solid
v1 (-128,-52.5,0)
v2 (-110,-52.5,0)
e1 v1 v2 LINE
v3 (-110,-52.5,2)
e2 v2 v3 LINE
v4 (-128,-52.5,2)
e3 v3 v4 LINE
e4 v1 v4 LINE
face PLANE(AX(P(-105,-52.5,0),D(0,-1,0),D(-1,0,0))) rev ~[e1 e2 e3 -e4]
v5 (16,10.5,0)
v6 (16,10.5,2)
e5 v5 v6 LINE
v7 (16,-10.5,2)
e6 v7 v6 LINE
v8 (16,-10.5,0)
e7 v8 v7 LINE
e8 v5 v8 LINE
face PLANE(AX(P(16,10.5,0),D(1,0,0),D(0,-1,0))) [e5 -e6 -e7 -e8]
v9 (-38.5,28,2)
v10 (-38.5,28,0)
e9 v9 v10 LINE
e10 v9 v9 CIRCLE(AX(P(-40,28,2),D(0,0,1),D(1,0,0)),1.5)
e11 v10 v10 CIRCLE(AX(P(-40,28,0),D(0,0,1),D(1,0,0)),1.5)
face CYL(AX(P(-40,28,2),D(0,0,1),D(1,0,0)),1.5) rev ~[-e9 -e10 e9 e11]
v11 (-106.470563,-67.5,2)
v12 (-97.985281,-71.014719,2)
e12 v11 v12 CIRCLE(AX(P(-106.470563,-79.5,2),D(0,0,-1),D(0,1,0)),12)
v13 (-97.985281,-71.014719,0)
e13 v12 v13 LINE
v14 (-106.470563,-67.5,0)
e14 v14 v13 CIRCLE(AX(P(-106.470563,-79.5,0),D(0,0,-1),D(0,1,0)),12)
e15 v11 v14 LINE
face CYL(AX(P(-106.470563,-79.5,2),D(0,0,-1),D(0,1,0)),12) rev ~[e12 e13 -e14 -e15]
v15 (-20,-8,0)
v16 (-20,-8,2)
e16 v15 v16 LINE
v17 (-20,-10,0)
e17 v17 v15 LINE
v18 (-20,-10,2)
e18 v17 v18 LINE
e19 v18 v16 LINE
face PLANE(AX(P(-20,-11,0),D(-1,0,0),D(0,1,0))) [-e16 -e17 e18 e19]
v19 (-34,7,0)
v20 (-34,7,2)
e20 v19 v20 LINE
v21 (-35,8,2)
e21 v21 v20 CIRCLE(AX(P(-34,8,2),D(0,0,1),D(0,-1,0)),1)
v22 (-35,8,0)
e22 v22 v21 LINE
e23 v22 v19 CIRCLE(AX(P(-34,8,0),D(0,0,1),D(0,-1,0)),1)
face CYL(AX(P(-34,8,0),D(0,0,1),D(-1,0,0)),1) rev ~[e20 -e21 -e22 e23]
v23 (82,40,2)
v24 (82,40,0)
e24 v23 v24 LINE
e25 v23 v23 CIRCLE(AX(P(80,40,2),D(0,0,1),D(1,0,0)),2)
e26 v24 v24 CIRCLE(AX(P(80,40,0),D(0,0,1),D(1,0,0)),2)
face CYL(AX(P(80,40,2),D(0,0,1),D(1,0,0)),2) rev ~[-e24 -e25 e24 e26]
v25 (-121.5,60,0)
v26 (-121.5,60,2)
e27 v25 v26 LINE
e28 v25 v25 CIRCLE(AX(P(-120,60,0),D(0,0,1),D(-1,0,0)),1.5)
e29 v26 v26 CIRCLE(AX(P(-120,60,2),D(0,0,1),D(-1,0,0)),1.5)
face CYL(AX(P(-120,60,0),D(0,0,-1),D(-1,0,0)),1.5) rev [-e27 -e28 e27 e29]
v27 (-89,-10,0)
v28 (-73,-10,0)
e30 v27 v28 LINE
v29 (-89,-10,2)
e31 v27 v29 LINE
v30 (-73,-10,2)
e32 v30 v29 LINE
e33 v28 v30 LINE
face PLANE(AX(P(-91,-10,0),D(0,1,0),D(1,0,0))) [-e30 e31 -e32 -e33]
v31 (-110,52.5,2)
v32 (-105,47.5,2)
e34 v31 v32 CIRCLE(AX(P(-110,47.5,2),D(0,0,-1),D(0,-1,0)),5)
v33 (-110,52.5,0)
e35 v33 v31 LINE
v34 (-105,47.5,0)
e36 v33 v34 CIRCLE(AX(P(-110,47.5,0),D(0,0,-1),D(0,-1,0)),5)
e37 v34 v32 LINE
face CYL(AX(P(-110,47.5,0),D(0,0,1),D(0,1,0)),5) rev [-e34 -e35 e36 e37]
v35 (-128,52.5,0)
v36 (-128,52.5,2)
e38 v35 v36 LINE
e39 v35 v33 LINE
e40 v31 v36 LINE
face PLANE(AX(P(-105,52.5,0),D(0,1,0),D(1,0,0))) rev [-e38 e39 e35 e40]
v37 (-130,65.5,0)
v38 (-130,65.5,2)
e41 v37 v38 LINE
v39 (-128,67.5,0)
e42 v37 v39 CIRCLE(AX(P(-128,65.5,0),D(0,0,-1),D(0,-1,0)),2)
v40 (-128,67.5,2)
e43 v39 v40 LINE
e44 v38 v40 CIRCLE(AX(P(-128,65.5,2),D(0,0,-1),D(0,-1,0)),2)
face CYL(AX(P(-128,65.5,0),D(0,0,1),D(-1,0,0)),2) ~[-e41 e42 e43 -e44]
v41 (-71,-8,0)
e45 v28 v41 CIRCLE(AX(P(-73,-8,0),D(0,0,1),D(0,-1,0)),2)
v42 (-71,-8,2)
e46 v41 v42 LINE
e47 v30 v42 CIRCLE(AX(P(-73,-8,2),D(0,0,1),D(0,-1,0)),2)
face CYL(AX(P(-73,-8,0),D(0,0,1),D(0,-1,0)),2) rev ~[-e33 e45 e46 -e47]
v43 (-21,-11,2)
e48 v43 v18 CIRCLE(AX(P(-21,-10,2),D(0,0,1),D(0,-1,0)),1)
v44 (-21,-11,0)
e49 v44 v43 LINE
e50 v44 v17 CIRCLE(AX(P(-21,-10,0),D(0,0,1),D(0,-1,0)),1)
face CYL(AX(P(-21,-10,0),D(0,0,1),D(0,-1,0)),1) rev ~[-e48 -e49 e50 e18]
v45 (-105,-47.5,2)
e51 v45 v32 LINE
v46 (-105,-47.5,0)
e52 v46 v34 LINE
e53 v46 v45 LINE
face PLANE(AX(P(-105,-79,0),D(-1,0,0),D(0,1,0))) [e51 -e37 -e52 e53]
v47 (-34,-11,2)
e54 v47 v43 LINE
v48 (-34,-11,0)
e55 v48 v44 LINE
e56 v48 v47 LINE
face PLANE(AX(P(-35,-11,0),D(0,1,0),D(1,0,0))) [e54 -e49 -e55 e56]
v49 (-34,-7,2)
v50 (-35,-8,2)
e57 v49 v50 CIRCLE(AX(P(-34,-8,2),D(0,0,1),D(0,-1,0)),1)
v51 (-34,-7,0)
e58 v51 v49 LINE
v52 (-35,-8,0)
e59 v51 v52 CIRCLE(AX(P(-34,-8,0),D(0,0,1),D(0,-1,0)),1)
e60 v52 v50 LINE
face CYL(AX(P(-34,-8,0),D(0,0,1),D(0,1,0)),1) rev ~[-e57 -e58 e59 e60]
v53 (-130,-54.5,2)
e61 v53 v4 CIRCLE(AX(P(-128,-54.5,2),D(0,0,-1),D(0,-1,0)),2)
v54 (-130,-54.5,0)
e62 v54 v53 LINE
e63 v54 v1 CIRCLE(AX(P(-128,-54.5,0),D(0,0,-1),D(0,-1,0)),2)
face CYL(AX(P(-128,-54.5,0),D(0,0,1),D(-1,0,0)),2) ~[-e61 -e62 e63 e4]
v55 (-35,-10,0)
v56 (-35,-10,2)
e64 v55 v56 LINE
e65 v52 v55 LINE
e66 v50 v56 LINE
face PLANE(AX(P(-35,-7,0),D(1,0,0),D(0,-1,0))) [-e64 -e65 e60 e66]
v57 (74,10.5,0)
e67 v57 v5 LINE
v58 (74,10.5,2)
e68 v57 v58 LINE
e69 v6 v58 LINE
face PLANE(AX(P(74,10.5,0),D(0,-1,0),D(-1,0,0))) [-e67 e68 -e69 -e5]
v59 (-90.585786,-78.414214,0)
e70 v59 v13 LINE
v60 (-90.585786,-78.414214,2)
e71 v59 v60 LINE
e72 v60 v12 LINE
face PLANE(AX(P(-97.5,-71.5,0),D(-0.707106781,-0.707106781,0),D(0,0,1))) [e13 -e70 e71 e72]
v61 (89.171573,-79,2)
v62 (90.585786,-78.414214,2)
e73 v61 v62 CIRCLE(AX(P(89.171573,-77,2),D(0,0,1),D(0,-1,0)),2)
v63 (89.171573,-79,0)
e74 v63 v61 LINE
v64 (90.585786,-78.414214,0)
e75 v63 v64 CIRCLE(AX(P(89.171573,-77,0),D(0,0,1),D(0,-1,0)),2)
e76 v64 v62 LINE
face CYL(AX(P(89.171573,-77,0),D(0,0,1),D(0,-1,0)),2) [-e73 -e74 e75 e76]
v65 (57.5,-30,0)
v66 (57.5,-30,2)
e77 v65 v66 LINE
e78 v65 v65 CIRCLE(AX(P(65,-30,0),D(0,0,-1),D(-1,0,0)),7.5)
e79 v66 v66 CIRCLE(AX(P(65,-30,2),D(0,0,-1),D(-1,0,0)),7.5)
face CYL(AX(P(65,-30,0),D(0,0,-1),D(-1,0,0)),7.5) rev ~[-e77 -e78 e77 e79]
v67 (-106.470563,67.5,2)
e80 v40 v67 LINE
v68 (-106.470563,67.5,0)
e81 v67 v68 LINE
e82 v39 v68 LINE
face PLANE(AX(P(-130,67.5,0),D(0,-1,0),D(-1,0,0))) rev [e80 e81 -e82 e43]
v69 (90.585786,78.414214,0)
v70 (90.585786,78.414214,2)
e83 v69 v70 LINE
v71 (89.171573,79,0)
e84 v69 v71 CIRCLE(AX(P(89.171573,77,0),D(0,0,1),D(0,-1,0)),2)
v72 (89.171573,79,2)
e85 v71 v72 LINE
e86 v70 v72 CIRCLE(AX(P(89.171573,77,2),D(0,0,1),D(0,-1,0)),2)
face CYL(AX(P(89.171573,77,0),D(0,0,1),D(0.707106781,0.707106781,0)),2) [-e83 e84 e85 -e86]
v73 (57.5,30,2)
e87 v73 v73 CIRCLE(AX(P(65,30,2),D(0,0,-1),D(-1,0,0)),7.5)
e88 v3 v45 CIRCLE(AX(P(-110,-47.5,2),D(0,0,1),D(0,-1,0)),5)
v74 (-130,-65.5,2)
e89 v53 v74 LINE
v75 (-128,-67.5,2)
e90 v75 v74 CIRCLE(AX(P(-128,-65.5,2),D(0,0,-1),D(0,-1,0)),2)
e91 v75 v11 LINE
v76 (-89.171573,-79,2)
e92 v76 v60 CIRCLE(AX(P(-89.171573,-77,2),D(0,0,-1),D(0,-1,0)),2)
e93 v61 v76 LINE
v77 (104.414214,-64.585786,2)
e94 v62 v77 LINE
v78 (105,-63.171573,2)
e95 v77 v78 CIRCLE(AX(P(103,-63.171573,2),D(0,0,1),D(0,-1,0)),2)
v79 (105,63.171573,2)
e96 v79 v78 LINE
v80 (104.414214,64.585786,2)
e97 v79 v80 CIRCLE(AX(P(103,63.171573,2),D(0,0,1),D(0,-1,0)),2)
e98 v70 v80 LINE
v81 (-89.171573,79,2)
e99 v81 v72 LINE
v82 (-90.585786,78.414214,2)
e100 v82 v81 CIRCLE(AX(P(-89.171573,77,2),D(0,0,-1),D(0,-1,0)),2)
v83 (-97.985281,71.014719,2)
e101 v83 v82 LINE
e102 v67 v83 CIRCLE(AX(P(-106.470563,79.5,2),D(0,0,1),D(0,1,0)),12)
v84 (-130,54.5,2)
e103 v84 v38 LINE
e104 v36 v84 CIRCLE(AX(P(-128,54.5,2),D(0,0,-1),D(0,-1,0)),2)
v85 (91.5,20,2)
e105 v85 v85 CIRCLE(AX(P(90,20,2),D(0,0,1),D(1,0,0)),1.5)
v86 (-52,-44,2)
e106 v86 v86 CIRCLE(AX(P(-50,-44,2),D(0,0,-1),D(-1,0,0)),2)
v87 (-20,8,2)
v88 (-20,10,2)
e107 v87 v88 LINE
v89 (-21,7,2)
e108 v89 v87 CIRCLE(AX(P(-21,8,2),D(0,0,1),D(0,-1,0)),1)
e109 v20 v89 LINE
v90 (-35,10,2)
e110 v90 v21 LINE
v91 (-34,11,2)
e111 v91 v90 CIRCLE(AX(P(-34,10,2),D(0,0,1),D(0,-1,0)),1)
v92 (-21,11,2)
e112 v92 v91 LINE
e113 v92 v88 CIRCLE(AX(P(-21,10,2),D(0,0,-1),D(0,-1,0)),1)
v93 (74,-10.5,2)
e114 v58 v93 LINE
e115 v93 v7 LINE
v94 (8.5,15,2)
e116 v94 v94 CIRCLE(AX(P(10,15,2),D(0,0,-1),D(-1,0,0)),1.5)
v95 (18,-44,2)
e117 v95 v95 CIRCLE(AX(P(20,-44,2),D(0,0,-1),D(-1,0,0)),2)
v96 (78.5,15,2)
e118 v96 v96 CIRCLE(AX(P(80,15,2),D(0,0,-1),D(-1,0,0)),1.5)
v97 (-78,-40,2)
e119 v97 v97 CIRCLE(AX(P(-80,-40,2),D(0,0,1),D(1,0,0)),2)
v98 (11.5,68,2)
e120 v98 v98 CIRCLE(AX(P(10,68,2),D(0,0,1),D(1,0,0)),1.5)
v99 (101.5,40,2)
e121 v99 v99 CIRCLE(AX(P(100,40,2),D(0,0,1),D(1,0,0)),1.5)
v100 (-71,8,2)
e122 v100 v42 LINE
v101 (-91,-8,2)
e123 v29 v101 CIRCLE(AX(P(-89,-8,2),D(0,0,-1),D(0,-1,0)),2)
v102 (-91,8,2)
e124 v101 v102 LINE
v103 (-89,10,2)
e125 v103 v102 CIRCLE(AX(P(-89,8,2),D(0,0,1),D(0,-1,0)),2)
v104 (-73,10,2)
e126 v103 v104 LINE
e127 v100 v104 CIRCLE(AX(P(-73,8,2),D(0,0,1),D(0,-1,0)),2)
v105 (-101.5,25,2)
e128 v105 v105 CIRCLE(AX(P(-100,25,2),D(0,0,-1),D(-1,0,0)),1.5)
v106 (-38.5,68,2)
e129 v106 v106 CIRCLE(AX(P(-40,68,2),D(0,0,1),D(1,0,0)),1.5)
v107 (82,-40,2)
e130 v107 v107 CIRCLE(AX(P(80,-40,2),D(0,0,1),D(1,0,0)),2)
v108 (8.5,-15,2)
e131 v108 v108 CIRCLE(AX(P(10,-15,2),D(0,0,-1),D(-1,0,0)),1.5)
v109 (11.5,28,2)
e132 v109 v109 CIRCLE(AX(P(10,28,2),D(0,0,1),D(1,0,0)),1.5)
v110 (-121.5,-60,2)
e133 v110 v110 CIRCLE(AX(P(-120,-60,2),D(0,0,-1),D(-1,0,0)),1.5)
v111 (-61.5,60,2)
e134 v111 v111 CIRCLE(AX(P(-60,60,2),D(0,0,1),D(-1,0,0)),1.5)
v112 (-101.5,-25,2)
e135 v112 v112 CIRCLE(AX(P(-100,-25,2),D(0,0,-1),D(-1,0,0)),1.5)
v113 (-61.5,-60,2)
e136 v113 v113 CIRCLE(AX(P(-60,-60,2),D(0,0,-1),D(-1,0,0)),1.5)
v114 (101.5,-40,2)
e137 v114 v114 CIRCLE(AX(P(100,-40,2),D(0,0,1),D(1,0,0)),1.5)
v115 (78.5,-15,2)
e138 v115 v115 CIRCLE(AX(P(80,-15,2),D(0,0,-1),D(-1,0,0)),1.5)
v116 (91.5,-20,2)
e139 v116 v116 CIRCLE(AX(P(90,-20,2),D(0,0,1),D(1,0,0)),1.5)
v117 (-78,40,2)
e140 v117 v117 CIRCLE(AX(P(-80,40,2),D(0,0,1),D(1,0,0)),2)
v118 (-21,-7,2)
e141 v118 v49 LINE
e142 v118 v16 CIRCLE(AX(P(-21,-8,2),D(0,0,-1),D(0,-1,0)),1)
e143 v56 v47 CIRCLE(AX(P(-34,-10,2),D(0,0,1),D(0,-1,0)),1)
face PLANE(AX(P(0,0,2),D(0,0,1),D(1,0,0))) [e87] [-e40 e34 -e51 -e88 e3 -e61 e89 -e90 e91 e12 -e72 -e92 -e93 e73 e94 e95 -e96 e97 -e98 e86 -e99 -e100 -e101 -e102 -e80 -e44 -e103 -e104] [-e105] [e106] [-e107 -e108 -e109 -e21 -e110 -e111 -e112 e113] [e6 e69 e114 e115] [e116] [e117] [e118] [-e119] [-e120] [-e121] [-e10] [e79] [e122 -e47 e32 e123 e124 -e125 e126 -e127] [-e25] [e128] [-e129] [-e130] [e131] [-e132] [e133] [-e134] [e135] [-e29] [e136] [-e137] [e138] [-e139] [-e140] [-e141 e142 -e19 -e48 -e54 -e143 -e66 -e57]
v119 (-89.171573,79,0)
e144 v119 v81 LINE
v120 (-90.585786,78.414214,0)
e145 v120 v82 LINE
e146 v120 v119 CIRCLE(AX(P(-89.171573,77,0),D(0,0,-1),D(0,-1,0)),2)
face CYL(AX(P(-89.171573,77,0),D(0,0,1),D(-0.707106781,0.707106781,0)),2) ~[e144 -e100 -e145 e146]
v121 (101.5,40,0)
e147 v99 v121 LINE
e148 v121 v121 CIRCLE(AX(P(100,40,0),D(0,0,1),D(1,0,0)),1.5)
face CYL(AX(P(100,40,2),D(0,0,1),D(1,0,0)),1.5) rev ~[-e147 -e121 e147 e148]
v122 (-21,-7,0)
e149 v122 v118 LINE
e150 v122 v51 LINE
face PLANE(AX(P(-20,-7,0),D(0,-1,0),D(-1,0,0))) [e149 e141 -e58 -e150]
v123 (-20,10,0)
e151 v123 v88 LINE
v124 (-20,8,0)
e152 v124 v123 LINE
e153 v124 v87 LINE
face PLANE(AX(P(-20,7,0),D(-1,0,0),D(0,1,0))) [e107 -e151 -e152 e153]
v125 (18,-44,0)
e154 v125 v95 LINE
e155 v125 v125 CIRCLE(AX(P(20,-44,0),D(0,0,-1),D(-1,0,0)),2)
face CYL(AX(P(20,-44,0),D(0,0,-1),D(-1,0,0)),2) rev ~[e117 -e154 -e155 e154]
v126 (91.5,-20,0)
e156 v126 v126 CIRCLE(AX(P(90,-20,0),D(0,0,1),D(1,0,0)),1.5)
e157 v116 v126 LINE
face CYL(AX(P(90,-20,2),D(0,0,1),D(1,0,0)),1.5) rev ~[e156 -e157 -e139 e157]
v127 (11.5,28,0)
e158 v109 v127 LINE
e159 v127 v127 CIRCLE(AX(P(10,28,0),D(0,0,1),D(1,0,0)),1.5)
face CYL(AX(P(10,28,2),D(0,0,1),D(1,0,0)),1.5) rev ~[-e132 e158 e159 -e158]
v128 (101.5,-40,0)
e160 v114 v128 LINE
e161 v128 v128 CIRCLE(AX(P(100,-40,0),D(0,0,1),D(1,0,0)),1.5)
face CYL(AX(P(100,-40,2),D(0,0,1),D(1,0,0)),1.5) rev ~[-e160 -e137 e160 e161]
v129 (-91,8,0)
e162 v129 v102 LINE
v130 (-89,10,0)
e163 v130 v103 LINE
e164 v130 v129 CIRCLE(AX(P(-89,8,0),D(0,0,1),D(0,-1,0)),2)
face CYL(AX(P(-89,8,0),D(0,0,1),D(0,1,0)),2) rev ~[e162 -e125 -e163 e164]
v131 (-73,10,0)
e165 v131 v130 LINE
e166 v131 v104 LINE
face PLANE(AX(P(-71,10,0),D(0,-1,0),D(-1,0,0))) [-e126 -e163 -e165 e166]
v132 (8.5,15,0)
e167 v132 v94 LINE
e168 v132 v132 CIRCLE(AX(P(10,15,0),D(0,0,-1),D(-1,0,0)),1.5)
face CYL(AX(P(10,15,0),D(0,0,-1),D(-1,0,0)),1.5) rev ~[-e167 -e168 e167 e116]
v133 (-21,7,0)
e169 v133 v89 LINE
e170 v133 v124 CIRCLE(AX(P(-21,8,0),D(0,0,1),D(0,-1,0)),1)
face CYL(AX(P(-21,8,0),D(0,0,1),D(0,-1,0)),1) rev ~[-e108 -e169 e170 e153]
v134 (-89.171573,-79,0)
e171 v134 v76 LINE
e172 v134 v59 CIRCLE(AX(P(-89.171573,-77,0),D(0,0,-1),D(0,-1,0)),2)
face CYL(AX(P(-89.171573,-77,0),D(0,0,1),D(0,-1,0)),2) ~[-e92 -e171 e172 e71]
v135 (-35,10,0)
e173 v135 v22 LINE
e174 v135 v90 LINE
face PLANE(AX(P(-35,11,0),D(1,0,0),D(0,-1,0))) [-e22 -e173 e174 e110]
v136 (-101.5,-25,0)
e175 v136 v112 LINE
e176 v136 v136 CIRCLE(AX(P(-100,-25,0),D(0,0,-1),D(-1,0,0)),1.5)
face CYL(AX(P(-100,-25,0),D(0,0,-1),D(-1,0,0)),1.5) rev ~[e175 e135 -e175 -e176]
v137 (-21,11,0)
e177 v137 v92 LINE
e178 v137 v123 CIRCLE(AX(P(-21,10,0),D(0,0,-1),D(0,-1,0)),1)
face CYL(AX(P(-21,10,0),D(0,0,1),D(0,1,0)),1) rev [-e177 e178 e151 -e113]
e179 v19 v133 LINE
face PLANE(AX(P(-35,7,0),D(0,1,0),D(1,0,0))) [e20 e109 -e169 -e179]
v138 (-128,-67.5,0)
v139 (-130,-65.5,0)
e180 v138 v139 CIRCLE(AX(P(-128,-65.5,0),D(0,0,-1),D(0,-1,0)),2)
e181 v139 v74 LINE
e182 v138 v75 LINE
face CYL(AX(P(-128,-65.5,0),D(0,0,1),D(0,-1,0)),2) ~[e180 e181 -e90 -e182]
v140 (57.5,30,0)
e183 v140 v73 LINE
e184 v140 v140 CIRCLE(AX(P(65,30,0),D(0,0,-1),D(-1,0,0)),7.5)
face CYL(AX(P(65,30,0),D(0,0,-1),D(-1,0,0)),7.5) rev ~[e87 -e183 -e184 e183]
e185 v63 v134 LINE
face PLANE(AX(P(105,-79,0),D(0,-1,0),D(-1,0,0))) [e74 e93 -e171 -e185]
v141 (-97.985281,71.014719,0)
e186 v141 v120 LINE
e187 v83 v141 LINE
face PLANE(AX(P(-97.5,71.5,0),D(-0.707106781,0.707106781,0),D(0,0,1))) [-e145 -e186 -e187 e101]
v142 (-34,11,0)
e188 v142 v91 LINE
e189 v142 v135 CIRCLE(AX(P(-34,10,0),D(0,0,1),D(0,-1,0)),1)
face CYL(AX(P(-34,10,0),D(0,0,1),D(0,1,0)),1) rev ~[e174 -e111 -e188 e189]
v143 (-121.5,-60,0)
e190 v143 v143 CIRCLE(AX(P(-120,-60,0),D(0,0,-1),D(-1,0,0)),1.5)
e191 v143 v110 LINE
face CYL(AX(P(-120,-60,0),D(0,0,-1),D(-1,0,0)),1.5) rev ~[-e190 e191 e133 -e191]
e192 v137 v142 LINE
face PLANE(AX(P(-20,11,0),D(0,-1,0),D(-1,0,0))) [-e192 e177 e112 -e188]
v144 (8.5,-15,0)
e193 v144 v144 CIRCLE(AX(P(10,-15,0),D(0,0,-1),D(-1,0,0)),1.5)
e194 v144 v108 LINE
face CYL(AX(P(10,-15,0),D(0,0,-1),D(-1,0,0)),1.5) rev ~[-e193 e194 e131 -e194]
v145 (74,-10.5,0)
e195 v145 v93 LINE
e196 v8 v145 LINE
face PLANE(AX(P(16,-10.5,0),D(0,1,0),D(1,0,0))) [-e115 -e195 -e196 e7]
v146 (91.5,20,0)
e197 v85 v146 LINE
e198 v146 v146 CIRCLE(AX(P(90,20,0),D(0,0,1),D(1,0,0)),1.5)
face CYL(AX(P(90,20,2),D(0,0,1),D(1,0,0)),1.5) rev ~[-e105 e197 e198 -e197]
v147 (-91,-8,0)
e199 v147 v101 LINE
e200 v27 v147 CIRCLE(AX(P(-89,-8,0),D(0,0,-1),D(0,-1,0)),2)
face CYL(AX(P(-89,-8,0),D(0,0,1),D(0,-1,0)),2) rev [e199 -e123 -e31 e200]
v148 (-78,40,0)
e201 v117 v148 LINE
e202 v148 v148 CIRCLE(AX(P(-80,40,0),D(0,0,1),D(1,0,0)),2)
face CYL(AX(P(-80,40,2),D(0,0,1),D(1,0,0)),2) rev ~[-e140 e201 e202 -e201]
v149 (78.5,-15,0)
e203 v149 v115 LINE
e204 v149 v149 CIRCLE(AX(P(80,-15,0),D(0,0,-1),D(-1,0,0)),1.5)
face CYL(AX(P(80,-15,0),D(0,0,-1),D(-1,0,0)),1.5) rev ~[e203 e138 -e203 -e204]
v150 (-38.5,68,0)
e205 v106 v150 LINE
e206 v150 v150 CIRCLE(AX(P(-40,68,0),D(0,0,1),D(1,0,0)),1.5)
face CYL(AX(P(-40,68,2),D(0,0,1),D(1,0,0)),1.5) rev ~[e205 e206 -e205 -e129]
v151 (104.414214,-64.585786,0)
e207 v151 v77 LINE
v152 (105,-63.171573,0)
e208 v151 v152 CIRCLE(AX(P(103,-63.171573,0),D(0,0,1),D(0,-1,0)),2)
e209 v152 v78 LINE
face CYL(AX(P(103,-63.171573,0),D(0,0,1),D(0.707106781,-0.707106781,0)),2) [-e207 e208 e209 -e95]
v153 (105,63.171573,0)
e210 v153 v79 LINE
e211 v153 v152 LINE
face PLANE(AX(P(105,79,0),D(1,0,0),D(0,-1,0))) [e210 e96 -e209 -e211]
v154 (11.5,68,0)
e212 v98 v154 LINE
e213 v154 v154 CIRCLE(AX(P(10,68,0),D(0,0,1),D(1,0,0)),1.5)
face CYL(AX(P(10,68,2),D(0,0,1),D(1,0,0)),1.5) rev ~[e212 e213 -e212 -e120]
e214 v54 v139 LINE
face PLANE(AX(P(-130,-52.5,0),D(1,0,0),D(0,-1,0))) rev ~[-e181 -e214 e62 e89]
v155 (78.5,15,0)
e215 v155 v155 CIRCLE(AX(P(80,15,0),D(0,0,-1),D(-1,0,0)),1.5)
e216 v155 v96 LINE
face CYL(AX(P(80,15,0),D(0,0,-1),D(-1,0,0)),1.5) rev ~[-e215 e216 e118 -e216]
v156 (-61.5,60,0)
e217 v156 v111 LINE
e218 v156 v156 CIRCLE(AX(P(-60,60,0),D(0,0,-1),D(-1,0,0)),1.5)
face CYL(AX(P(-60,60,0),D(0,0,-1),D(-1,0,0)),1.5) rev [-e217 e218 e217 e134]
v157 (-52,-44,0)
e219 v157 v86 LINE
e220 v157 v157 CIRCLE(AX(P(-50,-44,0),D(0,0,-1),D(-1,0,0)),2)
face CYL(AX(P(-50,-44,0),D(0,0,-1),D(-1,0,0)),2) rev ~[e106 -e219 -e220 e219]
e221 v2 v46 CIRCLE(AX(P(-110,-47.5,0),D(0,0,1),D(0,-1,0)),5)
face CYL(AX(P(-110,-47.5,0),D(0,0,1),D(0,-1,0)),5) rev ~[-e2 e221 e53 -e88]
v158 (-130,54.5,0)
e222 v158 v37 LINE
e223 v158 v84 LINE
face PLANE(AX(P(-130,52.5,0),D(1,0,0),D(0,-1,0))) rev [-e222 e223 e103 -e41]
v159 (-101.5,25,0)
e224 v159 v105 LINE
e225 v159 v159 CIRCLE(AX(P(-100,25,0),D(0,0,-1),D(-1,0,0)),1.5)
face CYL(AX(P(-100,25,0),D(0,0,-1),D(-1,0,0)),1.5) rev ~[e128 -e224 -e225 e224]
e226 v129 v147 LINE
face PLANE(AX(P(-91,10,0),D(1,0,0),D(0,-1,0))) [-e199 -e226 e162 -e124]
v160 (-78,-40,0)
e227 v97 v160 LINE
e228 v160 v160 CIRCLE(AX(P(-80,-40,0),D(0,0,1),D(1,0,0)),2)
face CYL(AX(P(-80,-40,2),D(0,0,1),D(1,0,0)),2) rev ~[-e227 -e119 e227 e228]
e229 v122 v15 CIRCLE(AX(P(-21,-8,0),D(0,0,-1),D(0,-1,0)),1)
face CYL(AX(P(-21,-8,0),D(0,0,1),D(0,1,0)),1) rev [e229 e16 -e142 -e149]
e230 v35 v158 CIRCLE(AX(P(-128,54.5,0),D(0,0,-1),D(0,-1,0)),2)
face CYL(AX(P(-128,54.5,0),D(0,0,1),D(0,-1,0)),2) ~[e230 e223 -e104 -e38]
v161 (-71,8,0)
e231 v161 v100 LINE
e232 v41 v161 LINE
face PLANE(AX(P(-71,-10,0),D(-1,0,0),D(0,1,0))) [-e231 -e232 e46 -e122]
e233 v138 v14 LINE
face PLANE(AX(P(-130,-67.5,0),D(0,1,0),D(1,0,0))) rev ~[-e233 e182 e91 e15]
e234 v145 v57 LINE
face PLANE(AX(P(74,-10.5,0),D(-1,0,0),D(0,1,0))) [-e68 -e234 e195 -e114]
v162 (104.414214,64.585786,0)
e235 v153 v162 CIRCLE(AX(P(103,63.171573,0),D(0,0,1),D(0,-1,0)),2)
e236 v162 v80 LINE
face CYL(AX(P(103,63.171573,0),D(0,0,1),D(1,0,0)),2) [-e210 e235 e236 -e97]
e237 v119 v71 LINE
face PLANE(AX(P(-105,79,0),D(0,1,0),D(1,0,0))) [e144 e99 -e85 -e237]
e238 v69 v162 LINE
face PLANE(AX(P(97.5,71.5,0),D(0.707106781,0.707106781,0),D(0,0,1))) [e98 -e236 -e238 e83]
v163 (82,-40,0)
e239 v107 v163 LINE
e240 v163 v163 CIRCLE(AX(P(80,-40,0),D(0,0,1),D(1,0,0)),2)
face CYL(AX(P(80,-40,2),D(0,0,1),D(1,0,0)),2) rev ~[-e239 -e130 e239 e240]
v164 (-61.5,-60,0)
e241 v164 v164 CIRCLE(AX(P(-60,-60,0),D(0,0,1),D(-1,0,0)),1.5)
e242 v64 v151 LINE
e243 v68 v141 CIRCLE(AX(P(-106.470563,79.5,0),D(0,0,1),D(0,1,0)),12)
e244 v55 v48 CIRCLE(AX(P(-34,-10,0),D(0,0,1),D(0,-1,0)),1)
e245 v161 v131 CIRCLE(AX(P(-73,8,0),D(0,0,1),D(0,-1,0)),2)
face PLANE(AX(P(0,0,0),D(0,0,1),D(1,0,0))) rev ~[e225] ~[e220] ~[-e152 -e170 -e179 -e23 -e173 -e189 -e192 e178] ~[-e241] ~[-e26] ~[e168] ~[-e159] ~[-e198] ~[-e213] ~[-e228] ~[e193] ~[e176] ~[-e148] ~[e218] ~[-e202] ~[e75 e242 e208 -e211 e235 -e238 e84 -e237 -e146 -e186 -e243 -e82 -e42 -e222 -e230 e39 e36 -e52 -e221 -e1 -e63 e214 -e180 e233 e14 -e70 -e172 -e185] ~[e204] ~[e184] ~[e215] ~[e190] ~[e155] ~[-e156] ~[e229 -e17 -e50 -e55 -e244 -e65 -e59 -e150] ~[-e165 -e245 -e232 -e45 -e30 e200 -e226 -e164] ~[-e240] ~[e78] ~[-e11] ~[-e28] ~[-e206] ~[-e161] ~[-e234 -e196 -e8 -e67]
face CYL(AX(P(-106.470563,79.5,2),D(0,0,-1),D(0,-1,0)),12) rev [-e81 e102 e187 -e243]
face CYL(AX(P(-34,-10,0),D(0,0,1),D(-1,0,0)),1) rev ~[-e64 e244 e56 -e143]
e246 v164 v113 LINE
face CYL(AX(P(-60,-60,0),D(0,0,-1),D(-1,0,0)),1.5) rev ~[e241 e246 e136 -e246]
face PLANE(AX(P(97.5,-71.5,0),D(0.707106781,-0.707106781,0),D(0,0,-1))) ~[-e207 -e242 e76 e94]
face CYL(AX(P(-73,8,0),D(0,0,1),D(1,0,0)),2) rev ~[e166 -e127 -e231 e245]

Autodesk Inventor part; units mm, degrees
ref_plane "YZ Plane" through (0, 0, 0) normal (1, 0, 0) x (0, 1, 0)
ref_plane "XZ Plane" through (0, 0, 0) normal (0, 1, 0) x (-1, 0, 0)
sketch "Эскиз1" plane through (0, 0, 0) normal (0, 0, 1) x (1, 0, 0)
  line L0 (105, -79) -> (-105, -79)
  line L1 (-105, -79) -> (-105, 79)
  line L2 (-105, 79) -> (105, 79)
  line L3 (105, 79) -> (105, -79)
  line L4 (105, -79) -> (-105, 79) construction
  line L5 (-105, -79) -> (105, 79) construction
  point P0 (0, 0)
  dimension "d0" = 210
  dimension "d1" = 158
extrude "Выдавливание1" add sketch "Эскиз1" along normal blind 2
chamfer "Фаска1" distance 15 angle 45 4 edges at (105, -79, 1) (-105, -79, 1) (-105, 79, 1) (105, 79, 1)
fillet "Сопряжение1" radius 2 8 edges at (90, 79, 1) (105, 64, 1) (105, -64, 1) (90, -79, 1) (-90, -79, 1) (-105, -64, 1) (-90, 79, 1) (-105, 64, 1)
sketch "Эскиз2" plane through (0, 0, 2) normal (0, 0, 1) x (1, 0, 0)
  line L0 (-100, 40) -> (100, 40) construction
  line L1 (100, 40) -> (100, -40) construction
  line L2 (100, -40) -> (-100, -40) construction
  line L3 (-100, -40) -> (-100, 40) construction
  line L4 (-100, 40) -> (100, -40) construction
  line L5 (100, 40) -> (-100, -40) construction
  circle A0 centre (100, -40) radius 1.5
  circle A1 centre (100, 40) radius 1.5
  point P0 (0, 0)
  dimension "d8" = 200
  dimension "d9" = 80
  dimension "d10" = 3
  dimension "d13" = 3
extrude "фонарь" cut sketch "Эскиз2" against normal blind 2
sketch "Эскиз3" plane through (0, 0, 2) normal (0, 0, 1) x (1, 0, 0)
  line L0 (-90, 20) -> (90, 20) construction
  line L1 (90, 20) -> (90, -20) construction
  line L2 (90, -20) -> (-90, -20) construction
  line L3 (-90, -20) -> (-90, 20) construction
  line L4 (-90, 20) -> (90, -20) construction
  line L5 (90, 20) -> (-90, -20) construction
  circle A0 centre (90, -20) radius 1.5
  circle A1 centre (90, 20) radius 1.5
  point P0 (0, 0)
  dimension "d16" = 180
  dimension "d17" = 40
  dimension "d18" = 3
  dimension "d19" = 3
extrude "камера" cut sketch "Эскиз3" against normal blind 2
sketch "Эскиз4" plane through (0, 0, 2) normal (0, 0, 1) x (1, 0, 0)
  line L0 (-80, 40) -> (80, 40) construction
  line L1 (80, 40) -> (80, -40) construction
  line L2 (80, -40) -> (-80, -40) construction
  line L3 (-80, -40) -> (-80, 40) construction
  line L4 (-80, 40) -> (80, -40) construction
  line L5 (80, 40) -> (-80, -40) construction
  circle A0 centre (80, -40) radius 2
  circle A1 centre (-80, -40) radius 2
  circle A2 centre (-80, 40) radius 2
  circle A3 centre (80, 40) radius 2
  point P0 (0, 0)
  dimension "d22" = 160
  dimension "d23" = 80
  dimension "d24" = 4
  dimension "d25" = 4
  dimension "d26" = 4
  dimension "d27" = 4
extrude "крепление" cut sketch "Эскиз4" against normal blind 2
sketch "Эскиз6" plane through (0, 0, 2) normal (0, 0, 1) x (1, 0, 0)
  line L0 (-40, 68) -> (10, 68) construction
  line L1 (10, 68) -> (10, 28) construction
  line L2 (10, 28) -> (-40, 28) construction
  line L3 (-40, 28) -> (-40, 68) construction
  line L4 (-40, 68) -> (10, 28) construction
  line L5 (10, 68) -> (-40, 28) construction
  line L6 (-105, 63.1716) -> (-105, -63.1716) construction
  circle A0 centre (-80, 40) radius 2 construction
  circle A1 centre (10, 28) radius 1.5
  circle A2 centre (-40, 28) radius 1.5
  circle A3 centre (-40, 68) radius 1.5
  circle A4 centre (10, 68) radius 1.5
  point P0 (0, 0)
  point P1 (-15, 48)
  dimension "d46" = 50
  dimension "d47" = 40
  dimension "d48" = 65
  dimension "d49" = 30
  dimension "d50" = 3
  dimension "d51" = 3
  dimension "d52" = 3
  dimension "d53" = 3
extrude "Bullet" cut sketch "Эскиз6" against normal blind 10
sketch "Эскиз7" plane through (0, 0, 0) normal (0, 0, -1) x (-1, 0, 0)
  line L0 (105, -63.1716) -> (105, 63.1716) construction
  circle A0 centre (-20, -44) radius 2
  circle A1 centre (50, -44) radius 2
  line L1 (-89.1716, -79) -> (89.1716, -79) projected
  circle A2 centre (80, -40) radius 2 projected
  point P0 (0, 0)
  dimension "d58" = 4
  dimension "d59" = 4
  dimension "d153" = 35
  dimension "d154" = 35
  dimension "d155" = 55
  dimension "d156" = 70
extrude "АКБ" cut sketch "Эскиз7" against normal blind 10 contours A0 | A1
sketch "Эскиз8" plane through (0, 0, 0) normal (0, 0, -1) x (-1, 0, 0)
  line L0 (-100, -25) -> (100, -25) construction
  line L1 (100, -25) -> (100, 25) construction
  line L2 (100, 25) -> (-100, 25) construction
  line L3 (-100, 25) -> (-100, -25) construction
  line L4 (-100, -25) -> (100, 25) construction
  line L5 (100, -25) -> (-100, 25) construction
  circle A0 centre (100, 25) radius 1.5
  circle A1 centre (100, -25) radius 1.5
  point P0 (0, 0)
  dimension "d65" = 200
  dimension "d66" = 50
  dimension "d67" = 3
  dimension "d68" = 3
extrude "Дисплей" cut sketch "Эскиз8" against normal blind 10
sketch "Эскиз9" plane through (0, 0, 0) normal (0, 0, -1) x (-1, 0, 0)
  line L0 (-24.5, -10.5) -> (-65.5, 10.5) construction
  line L1 (-65.5, -10.5) -> (-24.5, 10.5) construction
  line L2 (-10, -15) -> (-80, -15) construction
  line L3 (-80, -15) -> (-80, 15) construction
  line L4 (-80, 15) -> (-10, 15) construction
  line L5 (-10, 15) -> (-10, -15) construction
  line L6 (-10, -15) -> (-80, 15) construction
  line L7 (-80, -15) -> (-10, 15) construction
  circle A0 centre (-80, 40) radius 2 construction
  circle A1 centre (-80, 15) radius 1.5
  circle A2 centre (-80, -15) radius 1.5
  circle A3 centre (-10, -15) radius 1.5
  circle A4 centre (-10, 15) radius 1.5
  line L8 (-74, 10.5) -> (-16, 10.5)
  line L9 (-16, 10.5) -> (-16, -10.5)
  line L10 (-16, -10.5) -> (-74, -10.5)
  line L11 (-74, -10.5) -> (-74, 10.5)
  line L12 (-74, 10.5) -> (-16, -10.5) construction
  line L13 (-16, 10.5) -> (-74, -10.5) construction
  point P0 (0, 0)
  point P1 (-45, 0)
  point P2 (-45, 0)
  dimension "d71" = 41
  dimension "d72" = 21
  dimension "d73" = 70
  dimension "d74" = 30
  dimension "d75" = 0
  dimension "d76" = 3
  dimension "d77" = 3
  dimension "d78" = 3
  dimension "d79" = 3
  dimension "d82" = 41
  dimension "d157" = 58
  dimension "d158" = 21
extrude "Серво" cut sketch "Эскиз9" against normal blind 10
sketch "Эскиз10" plane through (0, 0, 0) normal (0, 0, -1) x (-1, 0, 0)
  line L0 (91, -10) -> (71, -10)
  line L1 (71, -10) -> (71, 10)
  line L2 (71, 10) -> (91, 10)
  line L3 (91, 10) -> (91, -10)
  line L4 (91, -10) -> (71, 10) construction
  line L5 (71, -10) -> (91, 10) construction
  line L6 (105, -63.1716) -> (105, 63.1716) projected
  point P0 (0, 0)
  point P1 (81, 0)
  point P2 (81, 0)
  dimension "d88" = 20
  dimension "d89" = 20
  dimension "d90" = 14
extrude "Для кабелей" cut sketch "Эскиз10" against normal blind 10
fillet "Сопряжение3" radius 2 4 edges at (-71, 10, 1) (-71, -10, 1) (-91, -10, 1) (-91, 10, 1)
sketch "Эскиз11" plane through (0, 0, 0) normal (0, 0, -1) x (-1, 0, 0)
  line L0 (70, -60) -> (120, -60) construction
  circle A0 centre (120, -60) radius 1.5
  line L1 (105, -63.1716) -> (105, 63.1716) projected
  circle A1 centre (80, -40) radius 2 projected
  line L2 (130, -67.5) -> (60, -67.5)
  line L3 (60, -67.5) -> (60, -52.5)
  line L4 (60, -52.5) -> (130, -52.5)
  line L5 (130, -52.5) -> (130, -67.5)
  line L6 (130, -67.5) -> (60, -52.5) construction
  line L7 (60, -67.5) -> (130, -52.5) construction
  circle A2 centre (60, -60) radius 1.5
  point P0 (0, 0)
  point P1 (95, -60)
  dimension "d94" = 50
  dimension "d96" = 3
  dimension "d98" = 20
  dimension "d99" = 70
  dimension "d100" = 15
  dimension "d126" = 3
  dimension "d127" = 60
  dimension "d128" = 25
extrude "Выдавливание10" add sketch "Эскиз11" against normal blind 2 contours L2 L3 A2 L4 L5 | L3 A2 picked at (60.1113, -59.5125)
extrude "Выдавливание11" cut sketch "Эскиз11" against normal blind 2 contours A2 L3 | L3 A2
fillet "Сопряжение4" radius 2 2 edges at (-130, -52.5, 1) (-130, -67.5, 1)
fillet "Сопряжение5" radius 12 1 edges at (-101.5, -67.5, 1)
fillet "Сопряжение6" radius 5 1 edges at (-105, -52.5, 1)
ref_plane "РабПлоскость1" through (24.5, 0, 0) normal (0, 1, 0) x (1, 0, 0)
mirror "Зеркальное отражение1" about plane through (24.5, 0, 0) normal (0, 1, 0) of "Выдавливание10"
mirror "Зеркальное отражение2" about plane through (24.5, 0, 0) normal (0, 1, 0) of "Выдавливание11"
mirror "Зеркальное отражение3" about plane through (24.5, 0, 0) normal (0, 1, 0) of "Сопряжение4", "Сопряжение5", "Сопряжение6"
sketch "Эскиз13" plane through (0, 0, 0) normal (0, 0, -1) x (-1, 0, 0)
  line L0 (20, 11) -> (35, 11)
  line L1 (35, 11) -> (35, 7)
  line L2 (35, 7) -> (20, 7)
  line L3 (20, 7) -> (20, 11)
  line L4 (20, -7) -> (35, -7)
  line L5 (35, -7) -> (35, -11)
  line L6 (35, -11) -> (20, -11)
  line L7 (20, -11) -> (20, -7)
  line L8 (105, -47.5) -> (105, 47.5) projected
  point P0 (0, 0)
  point P1 (105, -63.1716)
  point P2 (105, 63.1716)
  dimension "d108" = 15
  dimension "d109" = 4
  dimension "d110" = 15
  dimension "d111" = 4
  dimension "d112" = 7
  dimension "d113" = 7
  dimension "d114" = 70
extrude "Выдавливание12" cut sketch "Эскиз13" against normal blind 2
fillet "Сопряжение7" radius 1 8 edges at (-20, -7, 1) (-20, 11, 1) (-35, -11, 1) (-35, 7, 1) (-20, -11, 1) (-20, 7, 1) (-35, 11, 1) (-35, -7, 1)
sketch "Эскиз14" plane through (0, 0, 0) normal (0, 0, -1) x (-1, 0, 0)
  circle A0 centre (-65, -30) radius 7.5
  circle A1 centre (-65, 30) radius 7.5
  circle A2 centre (-80, 15) radius 1.5 projected
  circle A3 centre (-80, -15) radius 1.5 projected
  point P0 (0, 0)
  dimension "d118" = 15
  dimension "d119" = 15
  dimension "d120" = 15
  dimension "d121" = 15
  dimension "d122" = 15
  dimension "d123" = 15
extrude "Выдавливание13" cut sketch "Эскиз14" against normal blind 2 contours A0 | A1
sketch "Эскиз15" plane through (0, 0, 2) normal (0, 0, 1) x (1, 0, 0)
  line L0 (100, -15) -> (30, -15) construction
  line L1 (30, -15) -> (30, 15) construction
  line L2 (30, 15) -> (100, 15) construction
  line L3 (100, 15) -> (100, -15) construction
  line L4 (100, -15) -> (30, 15) construction
  line L5 (30, -15) -> (100, 15) construction
  line L6 (105, -63.1716) -> (105, 63.1716) construction
  circle A0 centre (100, 15) radius 1.5
  circle A1 centre (30, 15) radius 1.5
  circle A2 centre (30, -15) radius 1.5
  circle A3 centre (100, -15) radius 1.5
  line L7 (85.5, -10.5) -> (44.5, -10.5)
  line L8 (44.5, -10.5) -> (44.5, 10.5)
  line L9 (44.5, 10.5) -> (85.5, 10.5)
  line L10 (85.5, -10.5) -> (44.5, 10.5) construction
  line L11 (44.5, -10.5) -> (85.5, 10.5) construction
  line L12 (90.5, -3.5) -> (85.5, -3.5)
  line L13 (85.5, 3.5) -> (90.5, 3.5)
  line L14 (90.5, 3.5) -> (90.5, -3.5)
  line L15 (90.5, -3.5) -> (80.5, 3.5) construction
  line L16 (80.5, -3.5) -> (90.5, 3.5) construction
  line L17 (85.5, 10.5) -> (85.5, 3.5)
  line L18 (85.5, -3.5) -> (85.5, -10.5)
  point P0 (0, 0)
  point P1 (65, 0)
  point P2 (65, 0)
  point P3 (85.5, 0)
  point P4 (65, 0)
  point P5 (85.5, 0)
  point P6 (85.5, 0)
  dimension "d129" = 70
  dimension "d130" = 30
  dimension "d131" = 5
  dimension "d132" = 3
  dimension "d133" = 3
  dimension "d134" = 3
  dimension "d135" = 3
  dimension "d136" = 41
  dimension "d137" = 21
  dimension "d138" = 10
  dimension "d139" = 7
  dimension "d141" = 7
  dimension "d142" = 7
  dimension "d143" = 41
  dimension "d144" = 7
sketch "Эскиз16" plane through (0, 0, 2) normal (0, 0, 1) x (1, 0, 0)
  circle A0 centre (100, 15) radius 1.5 projected
  circle A1 centre (80, 15) radius 1.5 projected
  line L0 (100, 16.5) -> (80, 16.5)
  line L1 (80, 16.5) -> (80, 13.5)
  line L2 (80, 13.5) -> (100, 13.5)
  line L3 (100, 13.5) -> (100, 16.5)
  circle A2 centre (100, -15) radius 1.5 projected
  circle A3 centre (80, -15) radius 1.5 projected
  line L4 (100, -13.5) -> (80, -13.5)
  line L5 (80, -13.5) -> (80, -16.5)
  line L6 (80, -16.5) -> (100, -16.5)
  line L7 (100, -16.5) -> (100, -13.5)
  circle A4 centre (30, -15) radius 1.5 projected
  circle A5 centre (10, -15) radius 1.5 projected
  line L8 (30, -13.5) -> (10, -13.5)
  line L9 (10, -13.5) -> (10, -16.5)
  line L10 (10, -16.5) -> (30, -16.5)
  line L11 (30, -16.5) -> (30, -13.5)
  circle A6 centre (30, 15) radius 1.5 projected
  circle A7 centre (10, 15) radius 1.5 projected
  line L12 (30, 16.5) -> (10, 16.5)
  line L13 (10, 16.5) -> (10, 13.5)
  line L14 (10, 13.5) -> (30, 13.5)
  line L15 (30, 13.5) -> (30, 16.5)
  point P0 (0, 0)
equation "\"d119\" = d118"
equation "\"d120\" = d121"
equation "\"d123\" = d122"
properties part number "baseUp"
